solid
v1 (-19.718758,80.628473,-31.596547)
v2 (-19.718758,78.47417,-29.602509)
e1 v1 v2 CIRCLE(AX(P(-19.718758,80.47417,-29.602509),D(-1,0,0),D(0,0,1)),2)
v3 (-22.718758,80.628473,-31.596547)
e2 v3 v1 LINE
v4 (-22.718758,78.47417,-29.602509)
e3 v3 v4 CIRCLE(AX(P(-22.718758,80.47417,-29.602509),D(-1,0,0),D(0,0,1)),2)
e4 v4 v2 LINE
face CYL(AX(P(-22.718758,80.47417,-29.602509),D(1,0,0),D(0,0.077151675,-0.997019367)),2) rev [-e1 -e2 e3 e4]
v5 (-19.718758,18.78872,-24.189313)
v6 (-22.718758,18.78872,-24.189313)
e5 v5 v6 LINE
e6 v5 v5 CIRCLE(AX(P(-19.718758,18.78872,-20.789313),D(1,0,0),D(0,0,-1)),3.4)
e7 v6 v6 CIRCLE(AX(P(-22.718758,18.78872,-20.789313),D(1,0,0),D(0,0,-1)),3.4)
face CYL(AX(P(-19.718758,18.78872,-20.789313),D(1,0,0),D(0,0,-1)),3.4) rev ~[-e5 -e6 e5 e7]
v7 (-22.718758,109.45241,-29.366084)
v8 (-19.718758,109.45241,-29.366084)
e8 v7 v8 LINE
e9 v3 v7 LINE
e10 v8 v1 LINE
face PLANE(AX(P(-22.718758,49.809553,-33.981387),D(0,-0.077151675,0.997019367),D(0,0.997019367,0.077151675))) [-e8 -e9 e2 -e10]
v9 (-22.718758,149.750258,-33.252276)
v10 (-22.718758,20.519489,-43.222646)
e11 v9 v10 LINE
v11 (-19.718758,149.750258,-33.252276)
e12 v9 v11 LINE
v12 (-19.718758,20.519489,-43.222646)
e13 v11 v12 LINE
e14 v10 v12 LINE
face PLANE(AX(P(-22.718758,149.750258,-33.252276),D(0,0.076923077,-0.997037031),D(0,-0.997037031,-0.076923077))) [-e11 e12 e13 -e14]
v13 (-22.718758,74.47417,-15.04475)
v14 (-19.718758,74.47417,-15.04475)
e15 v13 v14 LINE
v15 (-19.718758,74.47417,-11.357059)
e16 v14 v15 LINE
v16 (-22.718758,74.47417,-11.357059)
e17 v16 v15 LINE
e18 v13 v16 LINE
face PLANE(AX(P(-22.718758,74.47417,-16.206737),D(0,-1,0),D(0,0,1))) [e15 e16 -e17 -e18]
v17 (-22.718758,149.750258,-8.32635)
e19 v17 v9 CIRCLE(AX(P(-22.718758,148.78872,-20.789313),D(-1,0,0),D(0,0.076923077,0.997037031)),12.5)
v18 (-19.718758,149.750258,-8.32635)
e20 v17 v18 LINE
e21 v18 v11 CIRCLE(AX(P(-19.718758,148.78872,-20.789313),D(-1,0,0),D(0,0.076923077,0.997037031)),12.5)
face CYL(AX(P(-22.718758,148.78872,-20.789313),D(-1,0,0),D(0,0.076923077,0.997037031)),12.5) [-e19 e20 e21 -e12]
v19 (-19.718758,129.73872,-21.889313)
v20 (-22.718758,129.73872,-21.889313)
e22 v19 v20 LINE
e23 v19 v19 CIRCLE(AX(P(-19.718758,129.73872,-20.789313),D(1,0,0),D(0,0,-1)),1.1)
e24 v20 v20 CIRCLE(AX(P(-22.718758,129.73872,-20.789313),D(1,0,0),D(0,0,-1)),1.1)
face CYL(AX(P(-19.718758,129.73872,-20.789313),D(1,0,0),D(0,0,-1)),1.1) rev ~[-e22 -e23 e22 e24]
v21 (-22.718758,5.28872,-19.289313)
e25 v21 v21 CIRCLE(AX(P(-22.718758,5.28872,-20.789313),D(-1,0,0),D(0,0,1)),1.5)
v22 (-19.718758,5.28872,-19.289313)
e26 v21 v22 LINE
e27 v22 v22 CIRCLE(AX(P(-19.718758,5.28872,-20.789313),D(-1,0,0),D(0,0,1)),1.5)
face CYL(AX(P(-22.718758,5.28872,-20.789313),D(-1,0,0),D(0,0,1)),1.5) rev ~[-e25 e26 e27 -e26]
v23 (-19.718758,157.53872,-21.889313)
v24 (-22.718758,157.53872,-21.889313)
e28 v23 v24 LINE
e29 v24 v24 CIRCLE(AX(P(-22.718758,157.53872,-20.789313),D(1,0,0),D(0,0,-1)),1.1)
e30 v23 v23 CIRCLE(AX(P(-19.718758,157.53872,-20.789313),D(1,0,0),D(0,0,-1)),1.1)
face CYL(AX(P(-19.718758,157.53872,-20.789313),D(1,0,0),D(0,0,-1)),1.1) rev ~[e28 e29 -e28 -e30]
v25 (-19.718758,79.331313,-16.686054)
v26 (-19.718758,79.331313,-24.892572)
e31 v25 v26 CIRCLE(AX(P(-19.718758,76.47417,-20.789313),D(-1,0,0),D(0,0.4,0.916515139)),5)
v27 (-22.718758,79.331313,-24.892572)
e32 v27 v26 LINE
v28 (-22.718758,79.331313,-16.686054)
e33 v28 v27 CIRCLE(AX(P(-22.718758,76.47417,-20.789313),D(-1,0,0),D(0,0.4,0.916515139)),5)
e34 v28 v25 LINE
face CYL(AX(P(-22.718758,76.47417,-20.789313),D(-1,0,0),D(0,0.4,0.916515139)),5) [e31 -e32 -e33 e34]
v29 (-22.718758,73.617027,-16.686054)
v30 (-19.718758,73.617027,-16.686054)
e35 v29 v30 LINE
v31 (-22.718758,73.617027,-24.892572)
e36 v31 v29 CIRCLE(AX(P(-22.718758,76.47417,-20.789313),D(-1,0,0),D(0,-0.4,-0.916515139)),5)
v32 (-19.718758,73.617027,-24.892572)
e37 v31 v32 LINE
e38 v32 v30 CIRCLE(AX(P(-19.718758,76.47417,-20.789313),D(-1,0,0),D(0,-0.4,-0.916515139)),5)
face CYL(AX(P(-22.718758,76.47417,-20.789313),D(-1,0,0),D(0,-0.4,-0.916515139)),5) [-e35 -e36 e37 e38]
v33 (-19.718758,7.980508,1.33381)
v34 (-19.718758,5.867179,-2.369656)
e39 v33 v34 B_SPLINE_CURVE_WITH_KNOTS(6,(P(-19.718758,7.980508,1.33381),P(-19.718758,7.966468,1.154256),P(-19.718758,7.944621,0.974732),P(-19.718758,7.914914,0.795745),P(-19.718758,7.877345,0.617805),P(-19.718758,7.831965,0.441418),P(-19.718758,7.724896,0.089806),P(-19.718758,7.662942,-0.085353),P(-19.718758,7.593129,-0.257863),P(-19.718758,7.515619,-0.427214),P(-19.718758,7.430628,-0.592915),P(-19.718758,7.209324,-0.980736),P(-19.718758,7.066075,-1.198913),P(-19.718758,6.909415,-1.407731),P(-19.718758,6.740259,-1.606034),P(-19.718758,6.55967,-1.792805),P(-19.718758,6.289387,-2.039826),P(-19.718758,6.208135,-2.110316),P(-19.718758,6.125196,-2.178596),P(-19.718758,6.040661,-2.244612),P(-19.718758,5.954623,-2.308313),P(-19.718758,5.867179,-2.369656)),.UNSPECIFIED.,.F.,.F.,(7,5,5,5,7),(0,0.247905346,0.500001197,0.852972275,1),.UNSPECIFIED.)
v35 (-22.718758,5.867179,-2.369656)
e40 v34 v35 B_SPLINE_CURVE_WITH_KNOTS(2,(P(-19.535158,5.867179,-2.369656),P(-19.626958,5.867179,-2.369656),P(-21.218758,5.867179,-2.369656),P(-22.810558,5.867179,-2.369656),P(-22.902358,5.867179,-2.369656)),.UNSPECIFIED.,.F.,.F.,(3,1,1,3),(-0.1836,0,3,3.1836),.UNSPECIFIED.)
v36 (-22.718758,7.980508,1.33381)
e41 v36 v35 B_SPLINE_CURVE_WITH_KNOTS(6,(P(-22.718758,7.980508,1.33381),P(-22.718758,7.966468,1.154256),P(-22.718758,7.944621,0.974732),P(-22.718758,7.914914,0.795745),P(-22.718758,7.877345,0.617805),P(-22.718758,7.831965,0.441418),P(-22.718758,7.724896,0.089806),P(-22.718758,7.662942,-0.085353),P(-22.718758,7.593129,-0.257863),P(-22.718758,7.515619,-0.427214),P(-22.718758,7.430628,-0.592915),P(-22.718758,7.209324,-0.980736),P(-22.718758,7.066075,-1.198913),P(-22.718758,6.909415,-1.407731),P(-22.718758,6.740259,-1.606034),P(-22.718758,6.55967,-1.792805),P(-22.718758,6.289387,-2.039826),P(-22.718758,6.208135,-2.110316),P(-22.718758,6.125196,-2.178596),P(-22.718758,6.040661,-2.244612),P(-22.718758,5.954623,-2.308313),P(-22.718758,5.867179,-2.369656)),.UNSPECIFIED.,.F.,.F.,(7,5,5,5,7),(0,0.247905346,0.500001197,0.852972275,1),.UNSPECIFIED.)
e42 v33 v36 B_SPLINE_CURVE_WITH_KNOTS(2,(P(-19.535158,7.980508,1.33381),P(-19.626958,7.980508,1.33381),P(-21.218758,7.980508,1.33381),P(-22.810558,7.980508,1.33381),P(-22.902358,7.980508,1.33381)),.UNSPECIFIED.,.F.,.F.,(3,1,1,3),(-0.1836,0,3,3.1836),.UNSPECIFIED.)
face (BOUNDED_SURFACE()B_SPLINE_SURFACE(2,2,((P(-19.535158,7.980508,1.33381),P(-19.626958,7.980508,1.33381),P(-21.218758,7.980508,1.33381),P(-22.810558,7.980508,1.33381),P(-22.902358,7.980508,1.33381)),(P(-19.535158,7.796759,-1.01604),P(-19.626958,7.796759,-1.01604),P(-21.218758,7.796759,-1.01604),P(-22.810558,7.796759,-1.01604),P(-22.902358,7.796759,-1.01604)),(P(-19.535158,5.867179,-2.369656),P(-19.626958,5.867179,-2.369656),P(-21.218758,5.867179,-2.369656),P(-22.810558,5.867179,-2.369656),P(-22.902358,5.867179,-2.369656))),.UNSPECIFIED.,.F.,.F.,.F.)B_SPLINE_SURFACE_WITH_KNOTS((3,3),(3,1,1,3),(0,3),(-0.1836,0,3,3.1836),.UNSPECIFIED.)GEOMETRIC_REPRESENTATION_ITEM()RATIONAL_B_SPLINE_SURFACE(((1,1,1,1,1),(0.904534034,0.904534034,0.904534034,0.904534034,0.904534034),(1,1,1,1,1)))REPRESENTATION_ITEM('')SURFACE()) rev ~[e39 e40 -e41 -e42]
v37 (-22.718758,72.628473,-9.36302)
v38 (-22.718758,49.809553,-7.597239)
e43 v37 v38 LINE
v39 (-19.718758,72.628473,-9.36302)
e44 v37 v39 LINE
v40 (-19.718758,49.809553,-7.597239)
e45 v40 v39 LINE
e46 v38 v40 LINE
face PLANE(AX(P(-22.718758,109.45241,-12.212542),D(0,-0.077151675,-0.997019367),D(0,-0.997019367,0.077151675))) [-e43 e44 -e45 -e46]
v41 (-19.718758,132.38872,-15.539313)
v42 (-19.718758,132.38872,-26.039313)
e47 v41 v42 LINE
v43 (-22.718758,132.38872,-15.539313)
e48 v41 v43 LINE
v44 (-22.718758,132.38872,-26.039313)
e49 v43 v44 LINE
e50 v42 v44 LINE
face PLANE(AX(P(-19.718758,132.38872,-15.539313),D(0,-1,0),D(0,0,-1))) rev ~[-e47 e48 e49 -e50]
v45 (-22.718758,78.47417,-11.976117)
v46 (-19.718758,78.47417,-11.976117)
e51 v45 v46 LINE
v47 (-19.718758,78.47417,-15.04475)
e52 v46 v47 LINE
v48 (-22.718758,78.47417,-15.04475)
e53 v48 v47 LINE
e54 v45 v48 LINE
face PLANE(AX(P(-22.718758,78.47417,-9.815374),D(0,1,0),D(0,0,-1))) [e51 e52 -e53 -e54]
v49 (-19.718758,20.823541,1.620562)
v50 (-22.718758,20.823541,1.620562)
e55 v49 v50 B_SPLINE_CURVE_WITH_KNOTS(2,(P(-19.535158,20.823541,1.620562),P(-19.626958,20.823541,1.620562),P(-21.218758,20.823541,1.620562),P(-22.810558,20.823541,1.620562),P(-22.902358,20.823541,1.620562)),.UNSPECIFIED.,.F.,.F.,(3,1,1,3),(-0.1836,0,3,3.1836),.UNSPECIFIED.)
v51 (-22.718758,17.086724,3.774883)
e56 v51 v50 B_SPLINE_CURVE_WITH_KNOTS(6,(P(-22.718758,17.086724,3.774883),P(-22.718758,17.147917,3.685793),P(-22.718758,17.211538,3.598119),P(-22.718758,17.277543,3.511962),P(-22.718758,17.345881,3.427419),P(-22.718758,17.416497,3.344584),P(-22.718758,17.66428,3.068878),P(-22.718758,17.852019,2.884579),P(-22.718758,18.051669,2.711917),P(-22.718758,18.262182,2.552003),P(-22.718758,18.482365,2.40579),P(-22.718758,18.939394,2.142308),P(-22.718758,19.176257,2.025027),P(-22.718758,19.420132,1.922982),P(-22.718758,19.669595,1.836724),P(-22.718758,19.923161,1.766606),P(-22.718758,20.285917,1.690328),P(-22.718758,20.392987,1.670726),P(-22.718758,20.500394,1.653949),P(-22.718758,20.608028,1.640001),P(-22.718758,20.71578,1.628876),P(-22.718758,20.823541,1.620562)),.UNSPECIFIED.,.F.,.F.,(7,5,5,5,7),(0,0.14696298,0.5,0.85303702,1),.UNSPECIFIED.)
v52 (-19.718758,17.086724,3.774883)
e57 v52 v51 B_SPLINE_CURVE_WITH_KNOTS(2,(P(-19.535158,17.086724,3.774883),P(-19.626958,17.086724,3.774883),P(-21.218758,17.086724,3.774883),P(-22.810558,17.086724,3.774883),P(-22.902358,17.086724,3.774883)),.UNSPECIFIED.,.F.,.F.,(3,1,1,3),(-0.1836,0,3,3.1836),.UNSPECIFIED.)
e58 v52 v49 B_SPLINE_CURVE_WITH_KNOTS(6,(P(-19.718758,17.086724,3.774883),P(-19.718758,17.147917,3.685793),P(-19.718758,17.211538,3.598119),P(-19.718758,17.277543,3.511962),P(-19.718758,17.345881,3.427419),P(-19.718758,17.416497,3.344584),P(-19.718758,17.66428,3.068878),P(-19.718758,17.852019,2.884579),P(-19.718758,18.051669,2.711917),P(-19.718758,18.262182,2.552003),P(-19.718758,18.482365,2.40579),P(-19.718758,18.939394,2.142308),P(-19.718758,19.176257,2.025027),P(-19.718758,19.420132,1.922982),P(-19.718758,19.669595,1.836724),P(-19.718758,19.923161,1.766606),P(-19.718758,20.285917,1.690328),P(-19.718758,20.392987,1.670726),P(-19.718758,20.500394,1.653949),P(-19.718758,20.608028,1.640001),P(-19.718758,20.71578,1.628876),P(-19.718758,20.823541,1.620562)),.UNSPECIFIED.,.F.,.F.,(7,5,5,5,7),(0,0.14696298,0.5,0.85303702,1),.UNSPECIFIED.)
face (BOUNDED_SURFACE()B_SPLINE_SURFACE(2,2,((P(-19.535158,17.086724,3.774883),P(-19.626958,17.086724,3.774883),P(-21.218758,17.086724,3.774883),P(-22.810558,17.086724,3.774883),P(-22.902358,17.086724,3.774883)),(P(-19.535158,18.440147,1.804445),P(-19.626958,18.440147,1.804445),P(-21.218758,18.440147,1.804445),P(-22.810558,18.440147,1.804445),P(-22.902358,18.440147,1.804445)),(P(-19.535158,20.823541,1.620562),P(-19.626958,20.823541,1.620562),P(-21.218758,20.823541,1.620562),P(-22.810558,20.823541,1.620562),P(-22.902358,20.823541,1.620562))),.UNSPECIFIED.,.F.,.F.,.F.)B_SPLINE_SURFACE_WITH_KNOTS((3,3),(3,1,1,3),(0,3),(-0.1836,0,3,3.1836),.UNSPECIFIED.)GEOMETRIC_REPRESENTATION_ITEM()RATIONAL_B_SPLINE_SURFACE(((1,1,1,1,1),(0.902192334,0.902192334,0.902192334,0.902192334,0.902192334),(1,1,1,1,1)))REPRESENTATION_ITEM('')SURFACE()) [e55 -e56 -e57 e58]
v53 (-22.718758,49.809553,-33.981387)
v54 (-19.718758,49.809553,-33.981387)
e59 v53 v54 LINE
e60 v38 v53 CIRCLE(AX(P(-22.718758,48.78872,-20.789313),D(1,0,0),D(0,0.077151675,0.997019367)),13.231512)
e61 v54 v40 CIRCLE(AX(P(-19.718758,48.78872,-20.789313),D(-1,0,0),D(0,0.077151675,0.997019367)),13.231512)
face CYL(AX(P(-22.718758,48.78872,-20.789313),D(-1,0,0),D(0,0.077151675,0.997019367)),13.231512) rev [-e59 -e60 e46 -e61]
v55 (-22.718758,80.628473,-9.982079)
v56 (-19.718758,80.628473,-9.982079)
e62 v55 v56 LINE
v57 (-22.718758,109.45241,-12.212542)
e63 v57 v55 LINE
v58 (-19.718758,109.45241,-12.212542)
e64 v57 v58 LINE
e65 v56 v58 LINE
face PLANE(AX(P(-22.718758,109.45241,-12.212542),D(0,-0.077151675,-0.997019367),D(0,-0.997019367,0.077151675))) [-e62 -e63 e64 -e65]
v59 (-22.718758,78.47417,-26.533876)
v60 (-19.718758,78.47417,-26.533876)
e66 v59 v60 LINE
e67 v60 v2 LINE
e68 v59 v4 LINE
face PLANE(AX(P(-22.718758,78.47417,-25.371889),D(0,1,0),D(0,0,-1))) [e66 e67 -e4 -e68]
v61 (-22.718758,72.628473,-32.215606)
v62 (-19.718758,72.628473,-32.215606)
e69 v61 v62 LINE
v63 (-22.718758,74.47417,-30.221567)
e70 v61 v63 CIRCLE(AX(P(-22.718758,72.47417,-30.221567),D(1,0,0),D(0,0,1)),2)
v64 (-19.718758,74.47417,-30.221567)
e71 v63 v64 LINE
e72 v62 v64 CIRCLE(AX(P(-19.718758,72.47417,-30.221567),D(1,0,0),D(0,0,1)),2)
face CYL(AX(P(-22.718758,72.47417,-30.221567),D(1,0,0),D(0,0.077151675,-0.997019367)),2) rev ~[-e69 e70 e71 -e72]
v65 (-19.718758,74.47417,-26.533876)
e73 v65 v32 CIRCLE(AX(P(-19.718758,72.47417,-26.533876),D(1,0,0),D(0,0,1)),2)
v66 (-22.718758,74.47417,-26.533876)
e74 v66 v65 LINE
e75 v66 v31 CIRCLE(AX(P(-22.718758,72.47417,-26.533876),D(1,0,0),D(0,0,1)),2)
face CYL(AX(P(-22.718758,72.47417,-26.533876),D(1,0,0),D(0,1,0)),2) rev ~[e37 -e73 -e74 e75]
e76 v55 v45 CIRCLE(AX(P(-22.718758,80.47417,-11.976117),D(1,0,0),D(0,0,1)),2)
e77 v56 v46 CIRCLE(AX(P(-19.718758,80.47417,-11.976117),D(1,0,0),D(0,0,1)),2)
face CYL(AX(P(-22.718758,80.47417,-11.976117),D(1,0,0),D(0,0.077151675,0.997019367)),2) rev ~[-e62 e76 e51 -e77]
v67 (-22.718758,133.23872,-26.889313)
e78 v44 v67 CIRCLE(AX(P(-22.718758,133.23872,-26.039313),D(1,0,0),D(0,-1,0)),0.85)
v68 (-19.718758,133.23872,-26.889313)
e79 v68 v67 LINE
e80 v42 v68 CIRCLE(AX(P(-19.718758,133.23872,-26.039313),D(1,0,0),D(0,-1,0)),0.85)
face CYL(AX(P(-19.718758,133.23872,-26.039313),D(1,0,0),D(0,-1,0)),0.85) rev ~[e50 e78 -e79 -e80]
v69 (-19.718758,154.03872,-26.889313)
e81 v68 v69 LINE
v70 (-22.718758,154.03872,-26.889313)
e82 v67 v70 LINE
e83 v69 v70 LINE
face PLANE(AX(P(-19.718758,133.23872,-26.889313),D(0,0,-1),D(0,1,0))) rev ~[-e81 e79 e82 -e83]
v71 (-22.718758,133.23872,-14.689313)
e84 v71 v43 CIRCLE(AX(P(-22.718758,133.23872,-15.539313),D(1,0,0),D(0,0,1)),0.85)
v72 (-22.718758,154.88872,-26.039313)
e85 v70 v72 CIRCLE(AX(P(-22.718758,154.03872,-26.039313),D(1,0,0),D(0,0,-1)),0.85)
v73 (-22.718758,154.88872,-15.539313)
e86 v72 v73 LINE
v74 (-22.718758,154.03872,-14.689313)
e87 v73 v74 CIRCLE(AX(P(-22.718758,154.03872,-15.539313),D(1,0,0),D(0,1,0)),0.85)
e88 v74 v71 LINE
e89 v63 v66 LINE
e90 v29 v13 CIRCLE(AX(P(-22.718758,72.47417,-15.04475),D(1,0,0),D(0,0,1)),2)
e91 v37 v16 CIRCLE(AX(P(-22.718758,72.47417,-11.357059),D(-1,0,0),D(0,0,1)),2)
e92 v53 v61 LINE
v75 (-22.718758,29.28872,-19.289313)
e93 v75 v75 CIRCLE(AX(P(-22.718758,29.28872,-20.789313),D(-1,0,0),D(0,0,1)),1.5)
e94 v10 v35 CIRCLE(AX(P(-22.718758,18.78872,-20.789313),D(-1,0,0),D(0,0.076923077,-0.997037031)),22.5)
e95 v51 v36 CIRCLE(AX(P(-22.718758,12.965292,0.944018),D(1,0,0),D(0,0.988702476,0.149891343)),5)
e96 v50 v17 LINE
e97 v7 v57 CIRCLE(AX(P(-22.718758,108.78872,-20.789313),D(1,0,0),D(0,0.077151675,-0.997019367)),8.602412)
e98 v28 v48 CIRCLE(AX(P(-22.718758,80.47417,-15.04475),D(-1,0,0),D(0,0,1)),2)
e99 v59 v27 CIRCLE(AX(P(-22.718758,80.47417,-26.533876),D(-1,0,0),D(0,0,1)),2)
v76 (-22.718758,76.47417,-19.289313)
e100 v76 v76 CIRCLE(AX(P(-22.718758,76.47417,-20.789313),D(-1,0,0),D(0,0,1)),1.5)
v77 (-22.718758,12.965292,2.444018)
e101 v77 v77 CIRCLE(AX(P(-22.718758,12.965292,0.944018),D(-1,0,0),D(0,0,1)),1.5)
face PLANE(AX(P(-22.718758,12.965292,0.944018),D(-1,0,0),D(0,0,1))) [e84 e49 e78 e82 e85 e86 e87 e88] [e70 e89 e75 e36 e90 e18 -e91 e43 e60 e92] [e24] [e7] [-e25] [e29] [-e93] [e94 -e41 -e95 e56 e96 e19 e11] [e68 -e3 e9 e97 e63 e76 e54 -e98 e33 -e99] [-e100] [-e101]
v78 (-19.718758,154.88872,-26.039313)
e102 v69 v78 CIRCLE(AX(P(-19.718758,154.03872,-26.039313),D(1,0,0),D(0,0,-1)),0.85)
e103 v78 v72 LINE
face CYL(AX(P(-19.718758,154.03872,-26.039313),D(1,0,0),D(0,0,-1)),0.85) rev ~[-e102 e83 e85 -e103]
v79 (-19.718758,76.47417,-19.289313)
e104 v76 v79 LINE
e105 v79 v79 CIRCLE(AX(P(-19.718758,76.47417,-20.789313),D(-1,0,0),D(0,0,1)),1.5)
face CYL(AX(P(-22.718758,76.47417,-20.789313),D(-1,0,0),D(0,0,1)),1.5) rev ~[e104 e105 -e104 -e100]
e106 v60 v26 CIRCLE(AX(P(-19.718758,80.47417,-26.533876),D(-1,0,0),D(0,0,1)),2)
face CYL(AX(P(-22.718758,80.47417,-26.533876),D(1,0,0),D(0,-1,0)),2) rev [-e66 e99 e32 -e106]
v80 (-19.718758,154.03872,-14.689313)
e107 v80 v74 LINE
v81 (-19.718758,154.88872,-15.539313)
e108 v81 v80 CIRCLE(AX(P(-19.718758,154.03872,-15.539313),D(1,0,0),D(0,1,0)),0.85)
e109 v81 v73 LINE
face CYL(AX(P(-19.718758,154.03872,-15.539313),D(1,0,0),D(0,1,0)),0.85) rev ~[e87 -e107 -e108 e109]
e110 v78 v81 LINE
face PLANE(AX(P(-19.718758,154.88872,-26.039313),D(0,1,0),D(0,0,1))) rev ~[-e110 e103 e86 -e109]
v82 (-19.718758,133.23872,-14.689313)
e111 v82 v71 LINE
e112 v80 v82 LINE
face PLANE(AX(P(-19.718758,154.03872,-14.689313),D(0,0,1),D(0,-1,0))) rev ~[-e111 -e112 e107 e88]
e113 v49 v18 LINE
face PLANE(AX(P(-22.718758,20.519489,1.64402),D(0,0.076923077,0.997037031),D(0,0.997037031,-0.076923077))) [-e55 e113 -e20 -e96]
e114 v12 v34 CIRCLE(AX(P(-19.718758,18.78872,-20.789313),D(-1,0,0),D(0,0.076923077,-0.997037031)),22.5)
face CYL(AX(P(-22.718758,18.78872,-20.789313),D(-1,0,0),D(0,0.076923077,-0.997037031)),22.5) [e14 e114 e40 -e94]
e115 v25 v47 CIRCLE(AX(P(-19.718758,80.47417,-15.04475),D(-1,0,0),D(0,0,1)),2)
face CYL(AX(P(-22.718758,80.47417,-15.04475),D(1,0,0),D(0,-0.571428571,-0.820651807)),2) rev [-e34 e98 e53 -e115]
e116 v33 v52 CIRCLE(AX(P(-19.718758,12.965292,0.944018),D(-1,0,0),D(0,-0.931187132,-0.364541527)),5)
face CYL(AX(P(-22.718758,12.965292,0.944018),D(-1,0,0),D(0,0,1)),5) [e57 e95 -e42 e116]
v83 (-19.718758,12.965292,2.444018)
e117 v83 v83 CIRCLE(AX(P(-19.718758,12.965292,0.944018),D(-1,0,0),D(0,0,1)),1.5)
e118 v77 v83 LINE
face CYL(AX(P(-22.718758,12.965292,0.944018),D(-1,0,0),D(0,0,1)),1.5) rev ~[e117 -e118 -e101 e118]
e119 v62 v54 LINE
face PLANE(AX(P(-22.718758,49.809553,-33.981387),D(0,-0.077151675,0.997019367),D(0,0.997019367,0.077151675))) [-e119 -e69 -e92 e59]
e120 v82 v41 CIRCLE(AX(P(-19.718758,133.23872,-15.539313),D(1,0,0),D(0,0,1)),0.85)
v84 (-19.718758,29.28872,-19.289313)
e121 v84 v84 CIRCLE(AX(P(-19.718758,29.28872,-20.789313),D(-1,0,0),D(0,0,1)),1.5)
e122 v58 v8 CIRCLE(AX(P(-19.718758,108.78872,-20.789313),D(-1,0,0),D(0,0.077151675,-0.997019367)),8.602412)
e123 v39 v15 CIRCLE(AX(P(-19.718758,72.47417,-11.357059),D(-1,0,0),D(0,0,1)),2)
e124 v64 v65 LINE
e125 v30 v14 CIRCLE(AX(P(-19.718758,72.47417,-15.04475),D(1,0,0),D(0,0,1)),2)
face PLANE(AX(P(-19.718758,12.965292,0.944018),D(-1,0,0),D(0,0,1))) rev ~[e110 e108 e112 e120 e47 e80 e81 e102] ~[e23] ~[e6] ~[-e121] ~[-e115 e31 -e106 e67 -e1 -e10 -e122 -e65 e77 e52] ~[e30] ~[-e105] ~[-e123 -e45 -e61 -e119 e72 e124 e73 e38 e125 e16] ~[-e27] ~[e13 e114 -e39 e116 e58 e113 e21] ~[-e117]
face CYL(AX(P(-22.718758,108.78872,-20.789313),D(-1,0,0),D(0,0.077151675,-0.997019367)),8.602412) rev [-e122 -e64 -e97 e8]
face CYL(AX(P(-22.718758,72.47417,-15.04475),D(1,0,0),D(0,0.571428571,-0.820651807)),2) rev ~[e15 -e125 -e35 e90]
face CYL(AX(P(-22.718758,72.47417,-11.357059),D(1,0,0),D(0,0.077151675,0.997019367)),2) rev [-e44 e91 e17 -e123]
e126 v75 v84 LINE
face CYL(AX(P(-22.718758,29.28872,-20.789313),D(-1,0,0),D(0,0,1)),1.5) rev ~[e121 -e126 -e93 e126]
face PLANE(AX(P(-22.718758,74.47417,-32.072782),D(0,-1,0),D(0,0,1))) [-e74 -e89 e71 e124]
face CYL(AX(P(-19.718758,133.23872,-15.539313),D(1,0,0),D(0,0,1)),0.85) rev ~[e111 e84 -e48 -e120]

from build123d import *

# Parameters (mm, degrees)
BOSS_EXTRUDE1_DEPTH = 3
CUT_EXTRUDE1_REACH  = 169.024
SKETCH3_R           = 1.1
CUT_EXTRUDE2_REACH  = 169.024
SKETCH5_R           = 3.4
CUT_EXTRUDE3_REACH  = 169.024
SKETCH7_R           = 1.5
BOSS_EXTRUDE3_DEPTH = 3
FILLET1_R           = 2
SKETCH8_R           = 5
BOSS_EXTRUDE4_DEPTH = 3
CUT_EXTRUDE4_REACH  = 169.024
SKETCH9_R           = 1.5
FILLET2_R           = 5
CUT_EXTRUDE5_REACH  = 169.024
SKETCH10_R          = 1.5


with BuildPart() as part:
    # Sketch1 → Boss-Extrude1 (new body)
    with BuildSketch(Plane(origin=(-22.718758449, 0, 0), x_dir=(0, 0, -1), z_dir=(1, 0, 0))):
        with BuildLine():
            Line((33.252275896, 149.750258484), (43.222646201, 20.519489254))
            ThreePointArc((43.222646201, 20.519489254), (20.789313015, -3.711279977), (-1.644020172, 20.519489254))
            Line((-1.644020172, 20.519489254), (8.326350133, 149.750258484))
            ThreePointArc((8.326350133, 149.750258484), (20.789313015, 161.288720023), (33.252275896, 149.750258484))
        make_face()
    extrude(amount=BOSS_EXTRUDE1_DEPTH)

    # Sketch3 → Cut-Extrude1 (cut, up to next)
    with BuildSketch(Plane(origin=(-19.718758449, 0, 0), x_dir=(0, 0, -1), z_dir=(1, 0, 0)), mode=Mode.PRIVATE) as cut_extrude1_sk1:
        with Locations((20.789313015, 157.538720023)):
            Circle(SKETCH3_R)
    cut_extrude1_tool1 = extrude(cut_extrude1_sk1.sketch, amount=-CUT_EXTRUDE1_REACH, mode=Mode.PRIVATE) & part.part
    # Sketch3 → Cut-Extrude1 (cut, up to next)
    with BuildSketch(Plane(origin=(-19.718758449, 0, 0), x_dir=(0, 0, -1), z_dir=(1, 0, 0)), mode=Mode.PRIVATE) as cut_extrude1_sk2:
        with Locations((20.789313015, 129.738720023)):
            Circle(SKETCH3_R)
    cut_extrude1_tool2 = extrude(cut_extrude1_sk2.sketch, amount=-CUT_EXTRUDE1_REACH, mode=Mode.PRIVATE) & part.part
    # Sketch3 → Cut-Extrude1 (cut, up to next)
    with BuildSketch(Plane(origin=(-19.718758449, 0, 0), x_dir=(0, 0, -1), z_dir=(1, 0, 0)), mode=Mode.PRIVATE) as cut_extrude1_sk3:
        with BuildLine():
            Line((14.689313015, 154.038720023), (14.689313015, 148.788720023))
            Line((14.689313015, 148.788720023), (14.689313015, 133.238720023))
            ThreePointArc((14.689313015, 133.238720023), (14.938272251, 132.637679259), (15.539313015, 132.388720023))
            Line((15.539313015, 132.388720023), (26.039313015, 132.388720023))
            ThreePointArc((26.039313015, 132.388720023), (26.640353779, 132.637679259), (26.889313015, 133.238720023))
            Line((26.889313015, 133.238720023), (26.889313015, 148.788720023))
            Line((26.889313015, 148.788720023), (26.889313015, 154.038720023))
            ThreePointArc((26.889313015, 154.038720023), (26.640353779, 154.639760787), (26.039313015, 154.888720023))
            Line((26.039313015, 154.888720023), (20.789313015, 154.888720023))
            Line((20.789313015, 154.888720023), (15.539313015, 154.888720023))
            ThreePointArc((15.539313015, 154.888720023), (14.938272251, 154.639760787), (14.689313015, 154.038720023))
        make_face()
    cut_extrude1_tool3 = extrude(cut_extrude1_sk3.sketch, amount=-CUT_EXTRUDE1_REACH, mode=Mode.PRIVATE) & part.part
    add(cut_extrude1_tool1.solids().sort_by_distance((-19.718758, 157.53872, -20.789313))[0], mode=Mode.SUBTRACT)
    add(cut_extrude1_tool2.solids().sort_by_distance((-19.718758, 129.73872, -20.789313))[0], mode=Mode.SUBTRACT)
    add(cut_extrude1_tool3.solids().sort_by_distance((-19.718758, 143.63872, -20.789313))[0], mode=Mode.SUBTRACT)

    # Sketch5 → Cut-Extrude2 (cut, up to next)
    with BuildSketch(Plane(origin=(-19.718758449, 0, 0), x_dir=(0, 0, -1), z_dir=(1, 0, 0)), mode=Mode.PRIVATE) as cut_extrude2_sk1:
        with Locations((20.789313015, 18.788720023)):
            Circle(SKETCH5_R)
    cut_extrude2_tool1 = extrude(cut_extrude2_sk1.sketch, amount=-CUT_EXTRUDE2_REACH, mode=Mode.PRIVATE) & part.part
    add(cut_extrude2_tool1.solids().sort_by_distance((-19.718758, 18.78872, -20.789313))[0], mode=Mode.SUBTRACT)

    # Sketch6 → Cut-Extrude3 (cut, up to next)
    with BuildSketch(Plane.ZY.offset(22.718758449), mode=Mode.PRIVATE) as cut_extrude3_sk1:
        with BuildLine():
            Line((-12.212541883, 109.452410499), (-7.597239032, 49.809553356))
            ThreePointArc((-7.597239032, 49.809553356), (-20.789313015, 35.557207763), (-33.981386998, 49.809553356))
            Line((-33.981386998, 49.809553356), (-29.366084146, 109.452410499))
            ThreePointArc((-29.366084146, 109.452410499), (-20.789313015, 117.391131783), (-12.212541883, 109.452410499))
        make_face()
    cut_extrude3_tool1 = extrude(cut_extrude3_sk1.sketch, amount=-CUT_EXTRUDE3_REACH, mode=Mode.PRIVATE) & part.part
    add(cut_extrude3_tool1.solids().sort_by_distance((-22.718758, 73.705728, -20.789313))[0], mode=Mode.SUBTRACT)

    # Sketch7 → Boss-Extrude3 (add)
    with BuildSketch(Plane.ZY.offset(22.718758449)):
        with BuildLine():
            Line((-32.072781677, 74.474169773), (-25.37188871, 74.474169773))
            ThreePointArc((-25.37188871, 74.474169773), (-20.789313015, 71.474169773), (-16.20673732, 74.474169773))
            Line((-16.20673732, 74.474169773), (-9.505844352, 74.474169773))
            Line((-9.505844352, 74.474169773), (-9.815373645, 78.474169773))
            Line((-9.815373645, 78.474169773), (-16.20673732, 78.474169773))
            ThreePointArc((-16.20673732, 78.474169773), (-20.789313015, 81.474169773), (-25.37188871, 78.474169773))
            Line((-25.37188871, 78.474169773), (-31.763252384, 78.474169773))
            Line((-31.763252384, 78.474169773), (-32.072781677, 74.474169773))
        make_face()
        with Locations((-20.789313015, 76.474169773)):
            Circle(SKETCH7_R, mode=Mode.SUBTRACT)
    extrude(amount=-BOSS_EXTRUDE3_DEPTH)

    # Fillet1
    fillet1_edges = [part.edges().sort_by_distance(p)[0] for p in [
        (-21.218758449, 74.474169773, -32.072781677),
        (-21.218758449, 78.474169773, -31.763252384),
        (-21.218758449, 78.474169773, -25.37188871),
        (-21.218758449, 78.474169773, -16.20673732),
        (-21.218758449, 78.474169773, -9.815373645),
        (-21.218758449, 74.474169773, -9.505844352),
        (-21.218758449, 74.474169773, -16.20673732),
        (-21.218758449, 74.474169773, -25.37188871),
    ]]
    fillet(fillet1_edges, radius=FILLET1_R)

    # Sketch8 → Boss-Extrude4 (add)
    with BuildSketch(Plane.ZY.offset(22.718758449)):
        with Locations((0.944018077, 12.965291508)):
            Circle(SKETCH8_R)
    extrude(amount=-BOSS_EXTRUDE4_DEPTH)

    # Sketch9 → Cut-Extrude4 (cut, up to next)
    with BuildSketch(Plane.ZY.offset(22.718758449), mode=Mode.PRIVATE) as cut_extrude4_sk1:
        with Locations((0.944018077, 12.965291508)):
            Circle(SKETCH9_R)
    cut_extrude4_tool1 = extrude(cut_extrude4_sk1.sketch, amount=-CUT_EXTRUDE4_REACH, mode=Mode.PRIVATE) & part.part
    add(cut_extrude4_tool1.solids().sort_by_distance((-22.718758, 12.965292, 0.944018))[0], mode=Mode.SUBTRACT)

    # Fillet2
    fillet2_edges = [part.edges().sort_by_distance(p)[0] for p in [
        (-21.218758449, 17.908803886, 1.693474793),
        (-21.218758449, 8.309355847, -0.878689557),
    ]]
    fillet(fillet2_edges, radius=FILLET2_R)

    # Sketch10 → Cut-Extrude5 (cut, up to next)
    with BuildSketch(Plane.ZY.offset(22.718758449), mode=Mode.PRIVATE) as cut_extrude5_sk1:
        with Locations((-20.789313015, 29.288720023)):
            Circle(SKETCH10_R)
    cut_extrude5_tool1 = extrude(cut_extrude5_sk1.sketch, amount=-CUT_EXTRUDE5_REACH, mode=Mode.PRIVATE) & part.part
    # Sketch10 → Cut-Extrude5 (cut, up to next)
    with BuildSketch(Plane.ZY.offset(22.718758449), mode=Mode.PRIVATE) as cut_extrude5_sk2:
        with Locations((-20.789313015, 5.288720023)):
            Circle(SKETCH10_R)
    cut_extrude5_tool2 = extrude(cut_extrude5_sk2.sketch, amount=-CUT_EXTRUDE5_REACH, mode=Mode.PRIVATE) & part.part
    add(cut_extrude5_tool1.solids().sort_by_distance((-22.718758, 29.28872, -20.789313))[0], mode=Mode.SUBTRACT)
    add(cut_extrude5_tool2.solids().sort_by_distance((-22.718758, 5.28872, -20.789313))[0], mode=Mode.SUBTRACT)


solid = part.part
